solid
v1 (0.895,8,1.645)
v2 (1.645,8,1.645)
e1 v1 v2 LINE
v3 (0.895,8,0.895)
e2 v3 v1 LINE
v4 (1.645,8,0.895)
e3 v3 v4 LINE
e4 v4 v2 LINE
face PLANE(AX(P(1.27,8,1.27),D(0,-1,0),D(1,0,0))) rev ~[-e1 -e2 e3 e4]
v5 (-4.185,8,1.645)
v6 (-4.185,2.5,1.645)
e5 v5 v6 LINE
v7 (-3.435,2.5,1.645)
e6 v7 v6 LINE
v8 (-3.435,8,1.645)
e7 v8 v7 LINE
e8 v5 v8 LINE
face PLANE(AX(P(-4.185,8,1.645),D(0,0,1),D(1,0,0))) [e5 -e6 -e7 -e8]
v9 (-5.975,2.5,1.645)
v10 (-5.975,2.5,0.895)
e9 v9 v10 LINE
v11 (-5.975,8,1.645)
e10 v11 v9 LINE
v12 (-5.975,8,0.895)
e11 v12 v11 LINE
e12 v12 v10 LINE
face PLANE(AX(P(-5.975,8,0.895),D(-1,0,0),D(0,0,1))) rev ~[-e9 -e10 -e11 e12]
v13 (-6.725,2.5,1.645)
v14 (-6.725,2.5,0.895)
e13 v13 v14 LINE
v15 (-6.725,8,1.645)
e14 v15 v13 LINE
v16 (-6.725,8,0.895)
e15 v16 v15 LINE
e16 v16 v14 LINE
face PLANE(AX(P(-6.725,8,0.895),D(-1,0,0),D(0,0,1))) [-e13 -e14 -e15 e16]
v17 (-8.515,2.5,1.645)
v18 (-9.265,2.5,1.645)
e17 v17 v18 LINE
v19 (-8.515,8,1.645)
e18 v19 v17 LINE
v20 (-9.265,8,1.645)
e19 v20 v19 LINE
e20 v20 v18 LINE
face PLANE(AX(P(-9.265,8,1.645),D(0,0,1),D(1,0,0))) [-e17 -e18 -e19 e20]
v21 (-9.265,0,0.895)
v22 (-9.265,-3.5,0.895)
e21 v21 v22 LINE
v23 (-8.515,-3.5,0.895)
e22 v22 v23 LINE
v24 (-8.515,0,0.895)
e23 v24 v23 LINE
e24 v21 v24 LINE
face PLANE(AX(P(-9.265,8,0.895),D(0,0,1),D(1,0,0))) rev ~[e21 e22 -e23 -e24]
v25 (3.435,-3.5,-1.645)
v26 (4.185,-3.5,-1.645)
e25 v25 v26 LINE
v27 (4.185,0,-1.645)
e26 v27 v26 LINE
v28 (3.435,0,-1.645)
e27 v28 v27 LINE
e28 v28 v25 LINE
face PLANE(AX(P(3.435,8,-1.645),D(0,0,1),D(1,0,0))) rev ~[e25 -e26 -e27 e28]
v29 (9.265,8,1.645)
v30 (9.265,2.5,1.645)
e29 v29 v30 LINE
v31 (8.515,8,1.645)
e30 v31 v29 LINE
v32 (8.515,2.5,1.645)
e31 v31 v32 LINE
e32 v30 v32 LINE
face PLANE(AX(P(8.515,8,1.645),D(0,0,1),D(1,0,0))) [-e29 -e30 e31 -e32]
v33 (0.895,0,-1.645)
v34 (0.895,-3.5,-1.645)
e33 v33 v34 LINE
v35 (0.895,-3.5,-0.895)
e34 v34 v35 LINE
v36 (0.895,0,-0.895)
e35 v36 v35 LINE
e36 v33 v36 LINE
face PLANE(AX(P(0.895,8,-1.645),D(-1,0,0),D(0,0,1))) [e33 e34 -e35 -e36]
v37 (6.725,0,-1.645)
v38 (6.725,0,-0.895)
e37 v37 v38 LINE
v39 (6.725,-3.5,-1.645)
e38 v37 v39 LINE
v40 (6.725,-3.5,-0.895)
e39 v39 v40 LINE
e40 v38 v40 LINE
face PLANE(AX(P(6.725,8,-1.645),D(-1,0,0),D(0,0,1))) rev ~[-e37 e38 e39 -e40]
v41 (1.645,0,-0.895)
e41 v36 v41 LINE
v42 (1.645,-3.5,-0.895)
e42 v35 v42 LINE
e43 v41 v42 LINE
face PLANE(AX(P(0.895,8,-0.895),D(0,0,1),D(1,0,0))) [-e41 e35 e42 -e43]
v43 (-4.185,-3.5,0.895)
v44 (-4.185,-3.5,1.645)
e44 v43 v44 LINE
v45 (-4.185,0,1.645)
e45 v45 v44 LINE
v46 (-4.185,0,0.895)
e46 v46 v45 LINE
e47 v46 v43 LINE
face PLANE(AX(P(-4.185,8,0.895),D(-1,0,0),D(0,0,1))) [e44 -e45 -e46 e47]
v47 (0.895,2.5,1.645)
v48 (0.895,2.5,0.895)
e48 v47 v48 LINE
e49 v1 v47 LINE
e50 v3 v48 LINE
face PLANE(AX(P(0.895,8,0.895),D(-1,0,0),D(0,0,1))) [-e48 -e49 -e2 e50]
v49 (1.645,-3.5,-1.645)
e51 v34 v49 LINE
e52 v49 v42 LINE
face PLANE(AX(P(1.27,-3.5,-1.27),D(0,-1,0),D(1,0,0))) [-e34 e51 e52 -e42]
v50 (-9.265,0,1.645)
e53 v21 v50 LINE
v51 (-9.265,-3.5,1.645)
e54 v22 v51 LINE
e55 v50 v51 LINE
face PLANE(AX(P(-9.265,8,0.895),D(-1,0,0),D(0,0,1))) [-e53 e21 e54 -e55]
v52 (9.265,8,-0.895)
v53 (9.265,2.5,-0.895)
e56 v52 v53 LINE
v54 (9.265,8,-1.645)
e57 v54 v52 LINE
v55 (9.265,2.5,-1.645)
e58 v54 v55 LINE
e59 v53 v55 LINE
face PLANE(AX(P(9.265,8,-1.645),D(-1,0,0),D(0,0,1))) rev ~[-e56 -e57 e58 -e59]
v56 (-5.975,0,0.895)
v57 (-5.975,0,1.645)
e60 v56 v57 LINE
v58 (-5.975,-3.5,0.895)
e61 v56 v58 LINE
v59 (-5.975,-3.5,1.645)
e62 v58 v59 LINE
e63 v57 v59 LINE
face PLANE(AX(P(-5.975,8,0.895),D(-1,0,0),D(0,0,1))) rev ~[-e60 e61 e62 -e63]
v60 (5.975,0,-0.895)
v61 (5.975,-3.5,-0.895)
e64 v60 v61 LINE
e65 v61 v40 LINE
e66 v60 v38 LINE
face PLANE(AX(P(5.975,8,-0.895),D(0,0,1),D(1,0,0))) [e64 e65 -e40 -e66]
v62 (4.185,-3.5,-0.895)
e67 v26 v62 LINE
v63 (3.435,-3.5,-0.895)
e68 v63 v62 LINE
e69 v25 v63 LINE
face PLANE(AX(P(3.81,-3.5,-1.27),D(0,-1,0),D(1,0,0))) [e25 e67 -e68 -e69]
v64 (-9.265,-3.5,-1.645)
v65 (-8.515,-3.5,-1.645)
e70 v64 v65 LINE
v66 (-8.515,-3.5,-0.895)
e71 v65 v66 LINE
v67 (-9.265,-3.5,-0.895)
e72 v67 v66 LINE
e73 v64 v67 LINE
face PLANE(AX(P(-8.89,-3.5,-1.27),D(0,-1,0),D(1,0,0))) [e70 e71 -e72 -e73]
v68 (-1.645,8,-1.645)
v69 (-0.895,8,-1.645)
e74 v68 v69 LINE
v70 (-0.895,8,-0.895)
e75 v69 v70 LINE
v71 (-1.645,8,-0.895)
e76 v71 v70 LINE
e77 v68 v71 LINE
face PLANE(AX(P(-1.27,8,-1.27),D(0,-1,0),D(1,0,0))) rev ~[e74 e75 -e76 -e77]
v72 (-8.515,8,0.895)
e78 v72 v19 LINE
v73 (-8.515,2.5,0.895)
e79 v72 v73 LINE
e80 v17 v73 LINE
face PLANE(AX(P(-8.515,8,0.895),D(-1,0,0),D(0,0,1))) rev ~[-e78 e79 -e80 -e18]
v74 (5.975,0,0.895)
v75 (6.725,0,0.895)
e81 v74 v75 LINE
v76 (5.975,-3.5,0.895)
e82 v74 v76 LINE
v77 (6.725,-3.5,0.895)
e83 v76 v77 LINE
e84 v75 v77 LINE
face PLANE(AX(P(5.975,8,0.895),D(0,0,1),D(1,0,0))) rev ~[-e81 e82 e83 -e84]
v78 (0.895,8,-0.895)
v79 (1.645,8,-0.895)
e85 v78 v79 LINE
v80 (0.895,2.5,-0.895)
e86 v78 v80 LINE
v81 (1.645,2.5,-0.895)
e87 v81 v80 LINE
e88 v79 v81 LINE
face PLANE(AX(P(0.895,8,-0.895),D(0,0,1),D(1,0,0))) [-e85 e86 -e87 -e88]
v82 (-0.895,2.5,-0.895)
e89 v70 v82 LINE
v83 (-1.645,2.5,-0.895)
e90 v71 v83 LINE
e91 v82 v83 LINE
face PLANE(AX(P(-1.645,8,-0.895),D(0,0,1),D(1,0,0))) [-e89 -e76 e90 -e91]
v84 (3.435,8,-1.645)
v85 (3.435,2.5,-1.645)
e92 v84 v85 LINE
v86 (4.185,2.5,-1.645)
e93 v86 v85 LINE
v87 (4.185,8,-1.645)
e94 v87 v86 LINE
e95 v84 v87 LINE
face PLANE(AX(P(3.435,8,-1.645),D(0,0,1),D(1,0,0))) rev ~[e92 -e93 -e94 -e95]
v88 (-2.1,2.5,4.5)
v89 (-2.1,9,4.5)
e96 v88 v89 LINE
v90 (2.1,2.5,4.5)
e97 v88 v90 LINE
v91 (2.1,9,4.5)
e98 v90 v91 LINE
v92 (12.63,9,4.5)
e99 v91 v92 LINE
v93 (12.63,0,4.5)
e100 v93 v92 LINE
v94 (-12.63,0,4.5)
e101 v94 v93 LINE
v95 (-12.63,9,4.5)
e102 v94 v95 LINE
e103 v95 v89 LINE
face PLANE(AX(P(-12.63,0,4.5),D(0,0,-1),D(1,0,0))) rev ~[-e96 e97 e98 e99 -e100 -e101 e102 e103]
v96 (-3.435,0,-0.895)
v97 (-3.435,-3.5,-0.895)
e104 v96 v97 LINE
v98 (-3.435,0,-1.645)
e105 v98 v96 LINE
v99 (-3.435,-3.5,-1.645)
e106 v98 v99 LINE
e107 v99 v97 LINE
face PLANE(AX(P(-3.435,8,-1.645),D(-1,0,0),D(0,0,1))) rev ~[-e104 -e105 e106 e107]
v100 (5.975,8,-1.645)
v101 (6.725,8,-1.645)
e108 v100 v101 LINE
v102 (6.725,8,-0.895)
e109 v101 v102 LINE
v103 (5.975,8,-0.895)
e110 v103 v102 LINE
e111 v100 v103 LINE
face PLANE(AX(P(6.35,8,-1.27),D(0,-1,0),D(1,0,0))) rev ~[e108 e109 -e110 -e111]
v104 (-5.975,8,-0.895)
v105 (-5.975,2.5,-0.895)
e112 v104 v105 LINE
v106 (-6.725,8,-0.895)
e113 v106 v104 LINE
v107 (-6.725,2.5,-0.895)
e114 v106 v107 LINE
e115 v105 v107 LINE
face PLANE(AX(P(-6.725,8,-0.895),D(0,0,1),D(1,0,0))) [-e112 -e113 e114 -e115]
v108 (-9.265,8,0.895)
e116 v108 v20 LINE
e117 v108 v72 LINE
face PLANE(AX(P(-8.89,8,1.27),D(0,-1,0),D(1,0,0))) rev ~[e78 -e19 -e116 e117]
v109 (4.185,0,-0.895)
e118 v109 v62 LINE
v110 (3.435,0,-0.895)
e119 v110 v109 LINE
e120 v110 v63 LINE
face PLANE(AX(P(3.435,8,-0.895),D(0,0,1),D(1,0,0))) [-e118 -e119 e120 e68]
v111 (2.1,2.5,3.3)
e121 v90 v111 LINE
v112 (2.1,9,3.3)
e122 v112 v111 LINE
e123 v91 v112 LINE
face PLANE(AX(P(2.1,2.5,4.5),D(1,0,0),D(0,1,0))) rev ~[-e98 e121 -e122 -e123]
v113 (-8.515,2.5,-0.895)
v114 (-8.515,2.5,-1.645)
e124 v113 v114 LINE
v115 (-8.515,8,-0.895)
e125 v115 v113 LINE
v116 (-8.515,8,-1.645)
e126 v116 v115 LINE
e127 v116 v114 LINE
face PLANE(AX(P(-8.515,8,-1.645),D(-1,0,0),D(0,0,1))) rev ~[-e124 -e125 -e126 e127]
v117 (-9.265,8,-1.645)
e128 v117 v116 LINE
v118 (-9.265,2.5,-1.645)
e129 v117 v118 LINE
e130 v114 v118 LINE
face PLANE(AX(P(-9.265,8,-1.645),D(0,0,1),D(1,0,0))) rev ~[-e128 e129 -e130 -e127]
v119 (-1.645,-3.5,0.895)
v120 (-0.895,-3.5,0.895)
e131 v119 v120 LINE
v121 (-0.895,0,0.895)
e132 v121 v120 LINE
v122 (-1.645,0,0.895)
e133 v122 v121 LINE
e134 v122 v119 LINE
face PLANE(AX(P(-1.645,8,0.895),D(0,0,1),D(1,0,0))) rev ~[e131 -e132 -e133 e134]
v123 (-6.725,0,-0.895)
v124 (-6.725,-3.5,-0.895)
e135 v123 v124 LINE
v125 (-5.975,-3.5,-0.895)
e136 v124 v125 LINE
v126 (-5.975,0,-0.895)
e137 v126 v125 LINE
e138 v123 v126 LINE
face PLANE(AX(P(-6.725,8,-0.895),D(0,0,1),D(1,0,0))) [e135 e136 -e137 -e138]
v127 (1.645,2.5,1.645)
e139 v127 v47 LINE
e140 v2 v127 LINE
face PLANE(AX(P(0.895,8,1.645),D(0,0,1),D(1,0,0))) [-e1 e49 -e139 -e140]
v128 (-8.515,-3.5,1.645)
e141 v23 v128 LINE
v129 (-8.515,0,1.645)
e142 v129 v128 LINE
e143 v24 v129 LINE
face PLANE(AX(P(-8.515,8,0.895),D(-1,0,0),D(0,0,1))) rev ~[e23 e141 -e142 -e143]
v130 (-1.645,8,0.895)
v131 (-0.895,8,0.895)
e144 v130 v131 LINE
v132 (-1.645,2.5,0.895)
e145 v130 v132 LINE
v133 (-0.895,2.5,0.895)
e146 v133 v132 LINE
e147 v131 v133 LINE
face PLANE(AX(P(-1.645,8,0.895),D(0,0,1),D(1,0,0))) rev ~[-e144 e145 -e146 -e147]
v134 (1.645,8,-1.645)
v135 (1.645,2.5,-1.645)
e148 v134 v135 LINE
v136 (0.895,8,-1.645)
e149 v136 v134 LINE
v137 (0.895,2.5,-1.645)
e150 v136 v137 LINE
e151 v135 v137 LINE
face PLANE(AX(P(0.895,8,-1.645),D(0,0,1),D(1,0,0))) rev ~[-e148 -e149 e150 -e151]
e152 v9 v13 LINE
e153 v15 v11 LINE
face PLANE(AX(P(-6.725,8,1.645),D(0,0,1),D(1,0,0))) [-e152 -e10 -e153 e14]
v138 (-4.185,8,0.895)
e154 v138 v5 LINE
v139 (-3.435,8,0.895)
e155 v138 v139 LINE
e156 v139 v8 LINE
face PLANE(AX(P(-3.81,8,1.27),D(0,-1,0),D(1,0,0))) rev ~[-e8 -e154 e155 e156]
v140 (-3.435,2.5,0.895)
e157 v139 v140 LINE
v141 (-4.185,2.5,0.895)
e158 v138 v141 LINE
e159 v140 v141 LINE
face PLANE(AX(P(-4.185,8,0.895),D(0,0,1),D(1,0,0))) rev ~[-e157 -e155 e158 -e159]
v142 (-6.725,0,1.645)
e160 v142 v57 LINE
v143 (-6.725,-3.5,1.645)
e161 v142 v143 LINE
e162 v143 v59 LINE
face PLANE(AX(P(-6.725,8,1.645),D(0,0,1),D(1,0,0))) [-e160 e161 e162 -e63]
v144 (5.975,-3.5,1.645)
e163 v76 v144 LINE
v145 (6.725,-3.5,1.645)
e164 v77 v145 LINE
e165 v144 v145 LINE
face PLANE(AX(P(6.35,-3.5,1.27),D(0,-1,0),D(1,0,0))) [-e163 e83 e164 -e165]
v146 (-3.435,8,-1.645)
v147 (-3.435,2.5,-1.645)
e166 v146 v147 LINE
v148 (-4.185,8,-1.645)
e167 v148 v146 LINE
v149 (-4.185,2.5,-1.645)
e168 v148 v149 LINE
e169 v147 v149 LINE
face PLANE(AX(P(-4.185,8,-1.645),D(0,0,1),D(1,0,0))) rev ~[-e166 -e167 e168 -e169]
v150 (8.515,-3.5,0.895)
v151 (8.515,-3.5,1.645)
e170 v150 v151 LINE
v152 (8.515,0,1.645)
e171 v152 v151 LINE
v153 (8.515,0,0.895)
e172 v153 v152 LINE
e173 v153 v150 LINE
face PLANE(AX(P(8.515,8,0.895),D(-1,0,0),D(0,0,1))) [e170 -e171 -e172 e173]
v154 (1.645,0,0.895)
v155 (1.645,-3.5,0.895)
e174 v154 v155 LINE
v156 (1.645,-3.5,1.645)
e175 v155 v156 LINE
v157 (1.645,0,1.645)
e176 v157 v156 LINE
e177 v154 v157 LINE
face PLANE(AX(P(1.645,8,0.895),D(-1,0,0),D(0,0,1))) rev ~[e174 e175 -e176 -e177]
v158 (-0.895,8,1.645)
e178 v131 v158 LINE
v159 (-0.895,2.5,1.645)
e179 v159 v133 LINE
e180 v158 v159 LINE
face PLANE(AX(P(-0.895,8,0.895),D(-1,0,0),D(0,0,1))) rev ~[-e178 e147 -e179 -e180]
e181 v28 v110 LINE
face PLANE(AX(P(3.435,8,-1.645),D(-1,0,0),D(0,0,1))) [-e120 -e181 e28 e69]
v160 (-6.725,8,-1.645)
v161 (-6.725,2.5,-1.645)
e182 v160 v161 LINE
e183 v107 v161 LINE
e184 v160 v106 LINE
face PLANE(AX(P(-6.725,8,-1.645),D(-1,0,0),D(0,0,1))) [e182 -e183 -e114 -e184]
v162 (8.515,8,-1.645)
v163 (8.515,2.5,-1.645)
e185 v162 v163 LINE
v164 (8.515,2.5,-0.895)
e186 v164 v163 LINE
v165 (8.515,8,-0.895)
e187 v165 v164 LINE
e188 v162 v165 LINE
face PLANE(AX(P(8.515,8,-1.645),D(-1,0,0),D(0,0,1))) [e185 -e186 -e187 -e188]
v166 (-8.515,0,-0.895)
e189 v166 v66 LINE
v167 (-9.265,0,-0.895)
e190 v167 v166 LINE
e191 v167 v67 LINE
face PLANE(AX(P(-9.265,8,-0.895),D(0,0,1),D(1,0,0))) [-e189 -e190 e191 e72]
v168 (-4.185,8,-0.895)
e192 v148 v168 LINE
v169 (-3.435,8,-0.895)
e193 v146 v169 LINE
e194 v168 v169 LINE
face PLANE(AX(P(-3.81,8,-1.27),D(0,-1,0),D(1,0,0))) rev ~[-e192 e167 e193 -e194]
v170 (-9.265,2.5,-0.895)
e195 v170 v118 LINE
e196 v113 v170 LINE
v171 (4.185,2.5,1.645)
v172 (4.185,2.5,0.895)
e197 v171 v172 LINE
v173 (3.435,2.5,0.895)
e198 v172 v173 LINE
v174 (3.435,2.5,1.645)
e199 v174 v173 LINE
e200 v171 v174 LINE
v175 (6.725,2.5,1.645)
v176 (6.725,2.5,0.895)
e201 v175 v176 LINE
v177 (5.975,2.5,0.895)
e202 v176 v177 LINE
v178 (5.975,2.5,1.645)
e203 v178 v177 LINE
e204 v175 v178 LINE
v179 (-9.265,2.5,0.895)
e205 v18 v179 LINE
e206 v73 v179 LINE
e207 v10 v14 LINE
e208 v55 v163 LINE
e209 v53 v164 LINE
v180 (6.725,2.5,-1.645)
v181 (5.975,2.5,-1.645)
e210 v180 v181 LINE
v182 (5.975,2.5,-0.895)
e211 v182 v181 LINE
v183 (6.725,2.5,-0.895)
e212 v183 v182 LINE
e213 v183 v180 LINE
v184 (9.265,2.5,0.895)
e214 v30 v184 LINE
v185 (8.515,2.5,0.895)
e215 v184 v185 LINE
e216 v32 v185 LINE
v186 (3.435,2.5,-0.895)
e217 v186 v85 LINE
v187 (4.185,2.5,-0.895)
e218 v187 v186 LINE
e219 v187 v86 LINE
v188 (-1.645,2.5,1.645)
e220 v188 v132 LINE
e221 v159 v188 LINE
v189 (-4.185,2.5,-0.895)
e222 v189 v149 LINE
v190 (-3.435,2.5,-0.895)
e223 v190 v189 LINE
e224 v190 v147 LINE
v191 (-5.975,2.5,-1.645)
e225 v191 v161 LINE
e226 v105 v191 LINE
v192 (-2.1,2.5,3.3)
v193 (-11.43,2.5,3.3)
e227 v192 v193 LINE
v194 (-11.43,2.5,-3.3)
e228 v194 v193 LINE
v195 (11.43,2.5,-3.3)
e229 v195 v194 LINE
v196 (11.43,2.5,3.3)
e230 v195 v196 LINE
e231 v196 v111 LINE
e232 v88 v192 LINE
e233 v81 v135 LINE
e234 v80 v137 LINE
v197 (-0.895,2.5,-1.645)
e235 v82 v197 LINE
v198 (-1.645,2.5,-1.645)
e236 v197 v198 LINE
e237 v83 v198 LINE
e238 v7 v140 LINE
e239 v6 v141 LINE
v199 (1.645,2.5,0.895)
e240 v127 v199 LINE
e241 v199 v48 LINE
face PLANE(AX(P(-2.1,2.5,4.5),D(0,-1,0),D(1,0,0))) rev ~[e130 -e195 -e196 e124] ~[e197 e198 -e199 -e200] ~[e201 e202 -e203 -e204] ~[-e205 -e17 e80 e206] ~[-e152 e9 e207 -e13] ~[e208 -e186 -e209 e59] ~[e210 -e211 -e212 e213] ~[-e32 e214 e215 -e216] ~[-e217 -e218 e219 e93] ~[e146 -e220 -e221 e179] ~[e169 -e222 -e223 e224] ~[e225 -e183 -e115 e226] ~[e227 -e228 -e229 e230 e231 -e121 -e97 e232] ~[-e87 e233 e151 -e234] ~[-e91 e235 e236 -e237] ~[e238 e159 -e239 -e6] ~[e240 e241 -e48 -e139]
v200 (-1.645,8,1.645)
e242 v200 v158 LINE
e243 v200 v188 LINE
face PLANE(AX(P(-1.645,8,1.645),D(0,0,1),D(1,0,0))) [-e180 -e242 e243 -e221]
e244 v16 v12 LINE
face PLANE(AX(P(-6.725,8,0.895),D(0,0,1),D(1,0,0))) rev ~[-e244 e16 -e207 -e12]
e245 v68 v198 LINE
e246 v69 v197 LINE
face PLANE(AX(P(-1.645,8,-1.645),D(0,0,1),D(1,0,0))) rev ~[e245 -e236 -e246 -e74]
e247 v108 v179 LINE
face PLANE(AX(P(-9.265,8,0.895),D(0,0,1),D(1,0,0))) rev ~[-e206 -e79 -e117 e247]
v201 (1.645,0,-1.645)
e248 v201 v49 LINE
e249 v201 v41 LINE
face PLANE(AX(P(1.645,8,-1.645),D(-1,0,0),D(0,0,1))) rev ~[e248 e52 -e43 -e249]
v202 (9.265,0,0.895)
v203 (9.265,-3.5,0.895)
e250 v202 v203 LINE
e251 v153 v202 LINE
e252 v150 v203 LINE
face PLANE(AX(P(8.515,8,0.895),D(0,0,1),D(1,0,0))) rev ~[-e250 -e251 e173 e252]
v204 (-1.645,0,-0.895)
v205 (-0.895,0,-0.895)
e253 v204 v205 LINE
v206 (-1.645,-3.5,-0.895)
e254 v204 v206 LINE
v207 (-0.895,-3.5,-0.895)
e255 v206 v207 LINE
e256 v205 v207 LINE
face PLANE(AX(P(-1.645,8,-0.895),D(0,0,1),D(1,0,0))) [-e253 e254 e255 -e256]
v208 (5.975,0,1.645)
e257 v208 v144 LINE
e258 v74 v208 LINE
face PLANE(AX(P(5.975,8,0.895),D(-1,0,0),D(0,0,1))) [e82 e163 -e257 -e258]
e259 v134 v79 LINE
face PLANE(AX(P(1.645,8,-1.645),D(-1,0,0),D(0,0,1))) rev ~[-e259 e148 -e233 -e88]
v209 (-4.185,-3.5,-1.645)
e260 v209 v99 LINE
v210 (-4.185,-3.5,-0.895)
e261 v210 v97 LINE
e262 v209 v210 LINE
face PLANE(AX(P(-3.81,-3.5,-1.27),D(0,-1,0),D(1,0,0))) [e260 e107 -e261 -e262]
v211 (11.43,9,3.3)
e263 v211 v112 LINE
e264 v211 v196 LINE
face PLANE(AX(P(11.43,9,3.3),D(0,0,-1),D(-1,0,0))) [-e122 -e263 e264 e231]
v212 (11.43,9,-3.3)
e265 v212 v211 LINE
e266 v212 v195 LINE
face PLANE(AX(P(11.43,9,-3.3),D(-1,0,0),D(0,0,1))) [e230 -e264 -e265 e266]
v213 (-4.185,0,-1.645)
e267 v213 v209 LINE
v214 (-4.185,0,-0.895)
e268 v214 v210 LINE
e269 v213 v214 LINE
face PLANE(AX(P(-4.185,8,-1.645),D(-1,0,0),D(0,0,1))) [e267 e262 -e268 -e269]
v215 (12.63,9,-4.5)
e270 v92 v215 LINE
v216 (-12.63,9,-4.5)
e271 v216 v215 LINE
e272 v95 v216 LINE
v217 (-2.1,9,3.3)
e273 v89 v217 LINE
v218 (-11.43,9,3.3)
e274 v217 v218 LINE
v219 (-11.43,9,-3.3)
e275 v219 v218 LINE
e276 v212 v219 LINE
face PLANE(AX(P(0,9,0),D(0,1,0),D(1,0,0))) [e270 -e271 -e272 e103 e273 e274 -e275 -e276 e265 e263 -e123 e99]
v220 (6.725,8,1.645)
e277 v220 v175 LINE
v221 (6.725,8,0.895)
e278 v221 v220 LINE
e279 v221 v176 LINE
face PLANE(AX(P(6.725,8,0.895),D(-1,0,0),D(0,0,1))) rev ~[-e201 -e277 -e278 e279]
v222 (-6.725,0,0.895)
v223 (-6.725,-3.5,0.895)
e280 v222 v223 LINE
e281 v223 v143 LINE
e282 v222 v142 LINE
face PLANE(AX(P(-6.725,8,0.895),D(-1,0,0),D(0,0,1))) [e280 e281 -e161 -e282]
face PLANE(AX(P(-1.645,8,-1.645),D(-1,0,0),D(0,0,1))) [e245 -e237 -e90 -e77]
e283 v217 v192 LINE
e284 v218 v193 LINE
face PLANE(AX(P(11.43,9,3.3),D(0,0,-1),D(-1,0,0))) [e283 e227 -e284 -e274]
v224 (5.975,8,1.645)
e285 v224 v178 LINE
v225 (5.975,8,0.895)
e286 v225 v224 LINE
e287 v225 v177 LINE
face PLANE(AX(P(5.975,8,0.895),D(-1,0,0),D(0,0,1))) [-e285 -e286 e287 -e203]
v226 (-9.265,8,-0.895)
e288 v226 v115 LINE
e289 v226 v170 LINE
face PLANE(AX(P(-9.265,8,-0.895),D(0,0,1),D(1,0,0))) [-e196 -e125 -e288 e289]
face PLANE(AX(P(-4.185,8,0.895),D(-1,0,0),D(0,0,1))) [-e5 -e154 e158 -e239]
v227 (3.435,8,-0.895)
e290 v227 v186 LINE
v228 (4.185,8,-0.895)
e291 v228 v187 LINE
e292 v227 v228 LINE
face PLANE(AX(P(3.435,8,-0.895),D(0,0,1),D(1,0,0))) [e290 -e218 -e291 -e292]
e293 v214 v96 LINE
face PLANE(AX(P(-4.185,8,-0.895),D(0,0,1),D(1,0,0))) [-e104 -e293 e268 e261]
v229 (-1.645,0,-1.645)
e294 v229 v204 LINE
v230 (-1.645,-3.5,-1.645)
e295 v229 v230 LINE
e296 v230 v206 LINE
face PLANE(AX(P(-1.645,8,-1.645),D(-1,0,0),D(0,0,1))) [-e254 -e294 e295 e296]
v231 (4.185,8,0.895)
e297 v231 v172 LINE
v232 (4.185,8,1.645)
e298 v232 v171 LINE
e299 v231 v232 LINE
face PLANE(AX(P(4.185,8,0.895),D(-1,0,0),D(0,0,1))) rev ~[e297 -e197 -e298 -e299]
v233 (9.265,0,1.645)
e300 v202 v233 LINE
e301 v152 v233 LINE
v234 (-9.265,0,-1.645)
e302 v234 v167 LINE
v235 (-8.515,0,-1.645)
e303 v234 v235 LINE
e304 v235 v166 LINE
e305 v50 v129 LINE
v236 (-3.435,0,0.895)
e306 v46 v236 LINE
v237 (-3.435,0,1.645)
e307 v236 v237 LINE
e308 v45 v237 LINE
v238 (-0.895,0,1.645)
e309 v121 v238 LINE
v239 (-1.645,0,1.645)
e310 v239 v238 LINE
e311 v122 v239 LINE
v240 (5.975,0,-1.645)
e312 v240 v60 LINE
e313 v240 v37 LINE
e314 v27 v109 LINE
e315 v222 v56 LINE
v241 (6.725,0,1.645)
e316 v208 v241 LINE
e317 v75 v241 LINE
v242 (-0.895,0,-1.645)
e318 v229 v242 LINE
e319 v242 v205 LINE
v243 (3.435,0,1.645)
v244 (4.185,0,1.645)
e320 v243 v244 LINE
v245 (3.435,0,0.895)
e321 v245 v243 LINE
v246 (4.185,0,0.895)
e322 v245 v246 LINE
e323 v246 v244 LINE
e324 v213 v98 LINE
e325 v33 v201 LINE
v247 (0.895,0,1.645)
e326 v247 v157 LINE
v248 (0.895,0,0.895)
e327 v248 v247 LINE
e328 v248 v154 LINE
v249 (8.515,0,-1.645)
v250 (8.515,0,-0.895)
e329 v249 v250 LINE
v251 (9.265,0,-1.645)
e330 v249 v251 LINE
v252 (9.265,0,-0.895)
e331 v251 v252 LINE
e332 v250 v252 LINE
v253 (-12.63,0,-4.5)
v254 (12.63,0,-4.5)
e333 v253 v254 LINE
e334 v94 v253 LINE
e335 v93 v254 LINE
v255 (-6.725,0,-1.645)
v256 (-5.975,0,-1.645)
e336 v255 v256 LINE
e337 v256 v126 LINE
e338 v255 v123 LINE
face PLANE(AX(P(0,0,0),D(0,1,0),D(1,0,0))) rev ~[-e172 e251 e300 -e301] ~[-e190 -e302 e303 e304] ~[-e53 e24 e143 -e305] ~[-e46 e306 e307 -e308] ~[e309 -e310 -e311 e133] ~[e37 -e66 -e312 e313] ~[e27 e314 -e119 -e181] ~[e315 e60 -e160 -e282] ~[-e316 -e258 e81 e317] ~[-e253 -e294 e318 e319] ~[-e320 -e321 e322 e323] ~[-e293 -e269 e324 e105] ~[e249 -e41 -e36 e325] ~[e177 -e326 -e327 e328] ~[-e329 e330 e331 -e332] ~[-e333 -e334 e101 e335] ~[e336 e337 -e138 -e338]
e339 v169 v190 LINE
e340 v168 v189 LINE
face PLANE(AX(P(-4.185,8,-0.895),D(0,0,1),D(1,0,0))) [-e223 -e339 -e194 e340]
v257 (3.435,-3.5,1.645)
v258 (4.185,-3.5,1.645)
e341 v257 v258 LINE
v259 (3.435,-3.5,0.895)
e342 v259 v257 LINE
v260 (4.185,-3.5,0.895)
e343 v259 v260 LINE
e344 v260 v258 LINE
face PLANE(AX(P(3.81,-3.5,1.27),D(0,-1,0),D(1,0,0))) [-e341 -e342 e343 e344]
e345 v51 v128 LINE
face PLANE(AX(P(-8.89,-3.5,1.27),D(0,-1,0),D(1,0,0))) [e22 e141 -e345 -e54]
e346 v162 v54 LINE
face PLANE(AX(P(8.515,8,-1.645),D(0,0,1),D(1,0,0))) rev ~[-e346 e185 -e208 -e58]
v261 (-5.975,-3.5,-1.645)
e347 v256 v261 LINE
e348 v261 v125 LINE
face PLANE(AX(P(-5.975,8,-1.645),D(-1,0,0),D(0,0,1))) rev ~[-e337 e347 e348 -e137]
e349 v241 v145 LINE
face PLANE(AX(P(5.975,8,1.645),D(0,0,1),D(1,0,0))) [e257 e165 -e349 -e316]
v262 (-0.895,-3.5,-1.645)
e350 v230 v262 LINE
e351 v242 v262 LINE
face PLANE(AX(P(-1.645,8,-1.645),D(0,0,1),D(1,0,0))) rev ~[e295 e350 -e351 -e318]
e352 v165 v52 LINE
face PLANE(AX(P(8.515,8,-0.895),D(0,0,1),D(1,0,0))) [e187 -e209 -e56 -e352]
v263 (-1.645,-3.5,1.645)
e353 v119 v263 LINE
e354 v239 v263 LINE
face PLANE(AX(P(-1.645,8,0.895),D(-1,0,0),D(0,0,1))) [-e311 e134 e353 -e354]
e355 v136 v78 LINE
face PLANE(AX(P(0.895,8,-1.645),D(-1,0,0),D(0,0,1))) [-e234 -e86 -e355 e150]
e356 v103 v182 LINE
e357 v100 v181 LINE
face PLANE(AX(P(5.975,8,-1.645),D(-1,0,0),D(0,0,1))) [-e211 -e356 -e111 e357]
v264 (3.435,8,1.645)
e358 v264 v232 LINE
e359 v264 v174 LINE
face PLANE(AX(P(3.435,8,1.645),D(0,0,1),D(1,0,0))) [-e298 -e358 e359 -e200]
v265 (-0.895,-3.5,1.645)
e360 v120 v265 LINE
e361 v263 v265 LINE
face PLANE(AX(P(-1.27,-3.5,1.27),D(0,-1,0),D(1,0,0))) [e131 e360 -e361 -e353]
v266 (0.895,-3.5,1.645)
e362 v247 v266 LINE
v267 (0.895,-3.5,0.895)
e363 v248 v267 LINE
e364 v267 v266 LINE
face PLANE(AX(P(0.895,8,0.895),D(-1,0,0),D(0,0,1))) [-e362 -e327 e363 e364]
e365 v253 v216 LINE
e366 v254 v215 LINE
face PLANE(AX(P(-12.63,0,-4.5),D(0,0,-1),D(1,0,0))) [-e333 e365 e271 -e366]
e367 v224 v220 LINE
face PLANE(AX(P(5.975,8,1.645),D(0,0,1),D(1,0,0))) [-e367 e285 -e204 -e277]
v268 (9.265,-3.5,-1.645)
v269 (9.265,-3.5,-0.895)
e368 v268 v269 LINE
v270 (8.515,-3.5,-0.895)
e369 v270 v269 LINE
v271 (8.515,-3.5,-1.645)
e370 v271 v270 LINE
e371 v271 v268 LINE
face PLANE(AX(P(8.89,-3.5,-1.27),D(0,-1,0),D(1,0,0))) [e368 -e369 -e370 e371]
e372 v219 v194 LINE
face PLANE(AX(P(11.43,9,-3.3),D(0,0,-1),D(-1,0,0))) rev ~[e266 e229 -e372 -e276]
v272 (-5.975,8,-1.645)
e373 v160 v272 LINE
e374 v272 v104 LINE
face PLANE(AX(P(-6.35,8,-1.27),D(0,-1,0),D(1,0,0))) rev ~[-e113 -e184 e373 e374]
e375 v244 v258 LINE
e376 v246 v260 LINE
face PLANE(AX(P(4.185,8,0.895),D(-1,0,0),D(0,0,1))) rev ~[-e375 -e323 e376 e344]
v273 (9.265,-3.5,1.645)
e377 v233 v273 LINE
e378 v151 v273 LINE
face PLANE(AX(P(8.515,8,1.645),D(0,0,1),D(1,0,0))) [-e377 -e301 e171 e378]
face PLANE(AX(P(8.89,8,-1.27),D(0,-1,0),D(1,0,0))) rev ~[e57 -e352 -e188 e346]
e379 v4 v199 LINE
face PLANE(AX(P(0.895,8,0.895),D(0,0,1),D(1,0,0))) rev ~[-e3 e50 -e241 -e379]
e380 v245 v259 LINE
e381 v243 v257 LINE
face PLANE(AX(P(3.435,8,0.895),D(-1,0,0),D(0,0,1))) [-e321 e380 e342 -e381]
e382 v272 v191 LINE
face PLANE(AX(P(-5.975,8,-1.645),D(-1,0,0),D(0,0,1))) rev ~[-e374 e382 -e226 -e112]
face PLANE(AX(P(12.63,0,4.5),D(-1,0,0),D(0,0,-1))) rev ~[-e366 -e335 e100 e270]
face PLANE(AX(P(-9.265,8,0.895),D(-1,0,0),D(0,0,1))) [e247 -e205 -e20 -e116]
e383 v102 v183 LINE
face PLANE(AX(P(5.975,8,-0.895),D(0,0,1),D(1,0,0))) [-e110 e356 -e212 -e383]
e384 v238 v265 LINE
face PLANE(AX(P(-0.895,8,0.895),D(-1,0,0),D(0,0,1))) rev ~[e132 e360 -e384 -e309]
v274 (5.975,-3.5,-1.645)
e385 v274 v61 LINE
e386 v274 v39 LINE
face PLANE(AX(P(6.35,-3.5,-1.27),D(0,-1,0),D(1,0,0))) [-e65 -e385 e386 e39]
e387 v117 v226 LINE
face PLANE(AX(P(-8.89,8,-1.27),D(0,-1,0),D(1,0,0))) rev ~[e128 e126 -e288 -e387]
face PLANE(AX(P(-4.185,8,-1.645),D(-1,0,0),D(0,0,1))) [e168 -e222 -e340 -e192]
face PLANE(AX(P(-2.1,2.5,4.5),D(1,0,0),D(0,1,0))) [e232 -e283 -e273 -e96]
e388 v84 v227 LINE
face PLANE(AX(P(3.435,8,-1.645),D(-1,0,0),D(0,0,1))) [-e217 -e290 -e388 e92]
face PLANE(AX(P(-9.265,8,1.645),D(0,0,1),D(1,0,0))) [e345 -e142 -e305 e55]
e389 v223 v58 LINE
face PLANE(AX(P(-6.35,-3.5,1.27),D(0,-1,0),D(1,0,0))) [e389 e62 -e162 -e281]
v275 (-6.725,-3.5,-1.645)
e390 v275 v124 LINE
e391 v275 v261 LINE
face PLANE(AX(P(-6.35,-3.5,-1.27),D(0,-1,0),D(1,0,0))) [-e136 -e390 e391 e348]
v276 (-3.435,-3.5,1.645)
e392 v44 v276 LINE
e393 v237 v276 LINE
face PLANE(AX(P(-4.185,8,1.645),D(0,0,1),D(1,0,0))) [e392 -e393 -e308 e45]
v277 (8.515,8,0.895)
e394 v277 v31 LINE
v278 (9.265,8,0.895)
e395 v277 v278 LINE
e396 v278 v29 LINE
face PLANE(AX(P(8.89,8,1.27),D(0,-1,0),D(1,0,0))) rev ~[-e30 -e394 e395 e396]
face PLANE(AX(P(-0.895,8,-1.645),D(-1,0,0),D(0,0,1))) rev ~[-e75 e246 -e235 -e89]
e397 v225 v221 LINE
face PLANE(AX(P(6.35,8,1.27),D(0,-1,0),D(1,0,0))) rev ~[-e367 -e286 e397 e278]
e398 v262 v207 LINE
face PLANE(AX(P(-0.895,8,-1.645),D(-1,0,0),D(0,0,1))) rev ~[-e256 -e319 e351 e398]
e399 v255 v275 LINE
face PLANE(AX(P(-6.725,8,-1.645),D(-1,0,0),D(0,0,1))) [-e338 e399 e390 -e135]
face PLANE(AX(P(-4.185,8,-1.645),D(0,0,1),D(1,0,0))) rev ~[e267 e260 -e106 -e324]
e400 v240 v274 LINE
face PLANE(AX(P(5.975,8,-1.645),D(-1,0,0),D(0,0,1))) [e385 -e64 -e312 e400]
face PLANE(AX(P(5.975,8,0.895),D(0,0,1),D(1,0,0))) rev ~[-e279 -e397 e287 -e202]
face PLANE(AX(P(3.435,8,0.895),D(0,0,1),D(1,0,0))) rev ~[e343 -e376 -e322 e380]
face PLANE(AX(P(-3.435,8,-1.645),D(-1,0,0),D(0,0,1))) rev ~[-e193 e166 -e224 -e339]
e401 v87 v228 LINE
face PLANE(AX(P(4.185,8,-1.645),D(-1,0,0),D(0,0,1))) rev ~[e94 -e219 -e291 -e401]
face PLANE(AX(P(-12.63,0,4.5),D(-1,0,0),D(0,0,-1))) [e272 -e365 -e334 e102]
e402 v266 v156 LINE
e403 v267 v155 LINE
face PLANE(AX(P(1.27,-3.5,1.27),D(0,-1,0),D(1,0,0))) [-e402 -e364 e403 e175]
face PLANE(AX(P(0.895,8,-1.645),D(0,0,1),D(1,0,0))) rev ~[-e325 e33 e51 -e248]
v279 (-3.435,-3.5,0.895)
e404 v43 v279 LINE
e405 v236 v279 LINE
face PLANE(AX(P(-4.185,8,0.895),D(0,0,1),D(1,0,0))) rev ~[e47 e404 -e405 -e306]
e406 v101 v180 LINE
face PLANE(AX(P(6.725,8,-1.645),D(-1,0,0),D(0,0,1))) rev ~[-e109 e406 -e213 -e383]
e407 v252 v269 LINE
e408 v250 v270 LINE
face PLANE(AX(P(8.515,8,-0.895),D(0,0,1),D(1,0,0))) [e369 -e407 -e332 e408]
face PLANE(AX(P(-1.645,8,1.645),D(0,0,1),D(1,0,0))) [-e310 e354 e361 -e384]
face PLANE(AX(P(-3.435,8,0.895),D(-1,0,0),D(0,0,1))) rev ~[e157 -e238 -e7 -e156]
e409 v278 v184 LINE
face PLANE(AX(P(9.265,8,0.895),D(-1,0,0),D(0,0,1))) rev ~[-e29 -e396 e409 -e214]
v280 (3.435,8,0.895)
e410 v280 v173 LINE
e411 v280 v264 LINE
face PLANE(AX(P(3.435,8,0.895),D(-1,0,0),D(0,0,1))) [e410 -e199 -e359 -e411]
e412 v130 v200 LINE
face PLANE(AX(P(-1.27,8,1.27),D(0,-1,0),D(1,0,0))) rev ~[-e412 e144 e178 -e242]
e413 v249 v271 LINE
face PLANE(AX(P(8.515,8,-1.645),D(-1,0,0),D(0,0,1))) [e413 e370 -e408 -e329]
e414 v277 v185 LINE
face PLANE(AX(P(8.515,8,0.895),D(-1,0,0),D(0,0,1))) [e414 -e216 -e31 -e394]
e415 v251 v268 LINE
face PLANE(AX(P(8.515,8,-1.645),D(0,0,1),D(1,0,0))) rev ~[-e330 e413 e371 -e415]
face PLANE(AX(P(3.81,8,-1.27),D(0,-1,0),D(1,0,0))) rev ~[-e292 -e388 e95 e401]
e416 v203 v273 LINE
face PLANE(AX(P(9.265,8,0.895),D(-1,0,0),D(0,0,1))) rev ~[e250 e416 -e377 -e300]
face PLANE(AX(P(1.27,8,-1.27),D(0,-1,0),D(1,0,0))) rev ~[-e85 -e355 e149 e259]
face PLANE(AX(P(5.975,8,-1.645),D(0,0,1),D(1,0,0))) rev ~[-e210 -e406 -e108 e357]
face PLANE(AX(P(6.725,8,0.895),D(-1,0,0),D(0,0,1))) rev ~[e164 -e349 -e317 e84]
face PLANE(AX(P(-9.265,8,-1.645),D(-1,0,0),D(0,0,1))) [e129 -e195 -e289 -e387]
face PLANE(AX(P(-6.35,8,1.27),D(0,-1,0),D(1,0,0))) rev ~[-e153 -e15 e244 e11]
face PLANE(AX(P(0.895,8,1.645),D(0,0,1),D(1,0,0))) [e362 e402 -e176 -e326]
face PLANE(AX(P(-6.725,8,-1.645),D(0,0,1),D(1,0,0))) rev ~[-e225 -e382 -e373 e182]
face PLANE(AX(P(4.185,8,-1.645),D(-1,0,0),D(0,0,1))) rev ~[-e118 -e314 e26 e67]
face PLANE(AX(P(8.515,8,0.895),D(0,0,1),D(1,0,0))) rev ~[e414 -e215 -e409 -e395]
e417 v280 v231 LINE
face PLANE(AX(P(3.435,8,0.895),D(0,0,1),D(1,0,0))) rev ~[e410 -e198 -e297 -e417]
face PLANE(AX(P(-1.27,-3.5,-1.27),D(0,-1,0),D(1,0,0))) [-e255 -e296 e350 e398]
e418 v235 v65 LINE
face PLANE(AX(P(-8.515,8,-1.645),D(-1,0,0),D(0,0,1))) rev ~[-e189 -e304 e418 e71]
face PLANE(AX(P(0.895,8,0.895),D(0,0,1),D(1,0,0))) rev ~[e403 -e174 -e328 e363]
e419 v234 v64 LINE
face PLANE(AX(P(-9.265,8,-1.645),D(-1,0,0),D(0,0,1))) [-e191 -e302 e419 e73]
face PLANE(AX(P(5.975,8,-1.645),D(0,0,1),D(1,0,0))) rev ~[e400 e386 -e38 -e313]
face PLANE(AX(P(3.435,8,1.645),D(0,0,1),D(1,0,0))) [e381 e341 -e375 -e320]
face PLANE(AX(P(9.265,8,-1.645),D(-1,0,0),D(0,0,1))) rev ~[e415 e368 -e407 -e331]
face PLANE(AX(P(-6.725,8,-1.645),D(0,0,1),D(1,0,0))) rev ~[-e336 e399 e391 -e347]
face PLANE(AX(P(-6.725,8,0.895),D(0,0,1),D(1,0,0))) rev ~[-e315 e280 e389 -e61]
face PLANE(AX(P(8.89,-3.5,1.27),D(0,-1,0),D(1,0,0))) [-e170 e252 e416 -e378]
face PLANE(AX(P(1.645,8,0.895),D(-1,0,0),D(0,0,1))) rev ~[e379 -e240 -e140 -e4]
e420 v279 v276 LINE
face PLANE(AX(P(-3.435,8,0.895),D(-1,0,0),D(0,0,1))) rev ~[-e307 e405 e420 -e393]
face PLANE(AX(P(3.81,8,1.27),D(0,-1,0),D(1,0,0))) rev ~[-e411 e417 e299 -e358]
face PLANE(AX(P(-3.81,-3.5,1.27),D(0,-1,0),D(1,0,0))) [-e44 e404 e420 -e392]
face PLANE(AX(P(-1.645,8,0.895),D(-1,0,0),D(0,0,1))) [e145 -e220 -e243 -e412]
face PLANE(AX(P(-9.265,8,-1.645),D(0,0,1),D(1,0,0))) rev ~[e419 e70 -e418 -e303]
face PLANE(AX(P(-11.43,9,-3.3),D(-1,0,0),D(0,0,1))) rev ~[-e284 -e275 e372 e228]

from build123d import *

# Parameters (mm, degrees)
SKETCH_1_W           = 25.26
SKETCH_1_H           = 9
EXTRUDE_1_DEPTH      = 9
SKETCH_2_W           = 22.86
SKETCH_2_H           = 6.6
CUT_EXTRUDE_1_DEPTH  = 6.5
SKETCH_3_W           = 4.2
SKETCH_3_H           = 6.5
CUT_EXTRUDE_2_DEPTH  = 6.5
EXTRUDE_2_DEPTH      = 3.5
EXTRUDE_2_DEPTH_BACK = 8
SKETCH_5_W           = 0.75
SKETCH_5_H           = 0.75


with BuildPart() as part:
    # 草图1 → 拉伸1 (new body)
    with BuildSketch(Plane(origin=(0, 0, 0), x_dir=(1, 0, 0), z_dir=(0, 1, 0))):
        Rectangle(SKETCH_1_W, SKETCH_1_H)
    extrude(amount=EXTRUDE_1_DEPTH)

    # 草图2 → 切除-拉伸1 (cut)
    with BuildSketch(Plane(origin=(0, 9, 0), x_dir=(-1, 0, 0), z_dir=(0, 1, 0))):
        Rectangle(SKETCH_2_W, SKETCH_2_H)
    extrude(amount=-CUT_EXTRUDE_1_DEPTH, mode=Mode.SUBTRACT)

    # 草图3 → 切除-拉伸2 (cut)
    with BuildSketch(Plane.XY.offset(4.5)):
        with Locations((0, 5.75)):
            Rectangle(SKETCH_3_W, SKETCH_3_H)
    extrude(amount=-CUT_EXTRUDE_2_DEPTH, mode=Mode.SUBTRACT)

    # 草图5 → 拉伸2 (add, two sides: drawn at the far end of the back side and taken through both)
    with BuildSketch(Plane.XZ.offset(-EXTRUDE_2_DEPTH_BACK)):
        with Locations((-1.27, 1.27)):
            Rectangle(SKETCH_5_W, SKETCH_5_H)
        with Locations((-3.81, 1.27)):
            Rectangle(SKETCH_5_W, SKETCH_5_H)
        with Locations((-6.35, 1.27)):
            Rectangle(SKETCH_5_W, SKETCH_5_H)
        with Locations((-8.89, 1.27)):
            Rectangle(SKETCH_5_W, SKETCH_5_H)
        with Locations((-8.89, -1.27)):
            Rectangle(SKETCH_5_W, SKETCH_5_H)
        with Locations((-6.35, -1.27)):
            Rectangle(SKETCH_5_W, SKETCH_5_H)
        with Locations((-3.81, -1.27)):
            Rectangle(SKETCH_5_W, SKETCH_5_H)
        with Locations((-1.27, -1.27)):
            Rectangle(SKETCH_5_W, SKETCH_5_H)
        with Locations((1.27, -1.27)):
            Rectangle(SKETCH_5_W, SKETCH_5_H)
        with Locations((3.81, -1.27)):
            Rectangle(SKETCH_5_W, SKETCH_5_H)
        with Locations((6.35, -1.27)):
            Rectangle(SKETCH_5_W, SKETCH_5_H)
        with Locations((8.89, -1.27)):
            Rectangle(SKETCH_5_W, SKETCH_5_H)
        with Locations((8.89, 1.27)):
            Rectangle(SKETCH_5_W, SKETCH_5_H)
        with Locations((6.35, 1.27)):
            Rectangle(SKETCH_5_W, SKETCH_5_H)
        with Locations((3.81, 1.27)):
            Rectangle(SKETCH_5_W, SKETCH_5_H)
        with Locations((1.27, 1.27)):
            Rectangle(SKETCH_5_W, SKETCH_5_H)
    extrude(amount=EXTRUDE_2_DEPTH + EXTRUDE_2_DEPTH_BACK)


solid = part.part
